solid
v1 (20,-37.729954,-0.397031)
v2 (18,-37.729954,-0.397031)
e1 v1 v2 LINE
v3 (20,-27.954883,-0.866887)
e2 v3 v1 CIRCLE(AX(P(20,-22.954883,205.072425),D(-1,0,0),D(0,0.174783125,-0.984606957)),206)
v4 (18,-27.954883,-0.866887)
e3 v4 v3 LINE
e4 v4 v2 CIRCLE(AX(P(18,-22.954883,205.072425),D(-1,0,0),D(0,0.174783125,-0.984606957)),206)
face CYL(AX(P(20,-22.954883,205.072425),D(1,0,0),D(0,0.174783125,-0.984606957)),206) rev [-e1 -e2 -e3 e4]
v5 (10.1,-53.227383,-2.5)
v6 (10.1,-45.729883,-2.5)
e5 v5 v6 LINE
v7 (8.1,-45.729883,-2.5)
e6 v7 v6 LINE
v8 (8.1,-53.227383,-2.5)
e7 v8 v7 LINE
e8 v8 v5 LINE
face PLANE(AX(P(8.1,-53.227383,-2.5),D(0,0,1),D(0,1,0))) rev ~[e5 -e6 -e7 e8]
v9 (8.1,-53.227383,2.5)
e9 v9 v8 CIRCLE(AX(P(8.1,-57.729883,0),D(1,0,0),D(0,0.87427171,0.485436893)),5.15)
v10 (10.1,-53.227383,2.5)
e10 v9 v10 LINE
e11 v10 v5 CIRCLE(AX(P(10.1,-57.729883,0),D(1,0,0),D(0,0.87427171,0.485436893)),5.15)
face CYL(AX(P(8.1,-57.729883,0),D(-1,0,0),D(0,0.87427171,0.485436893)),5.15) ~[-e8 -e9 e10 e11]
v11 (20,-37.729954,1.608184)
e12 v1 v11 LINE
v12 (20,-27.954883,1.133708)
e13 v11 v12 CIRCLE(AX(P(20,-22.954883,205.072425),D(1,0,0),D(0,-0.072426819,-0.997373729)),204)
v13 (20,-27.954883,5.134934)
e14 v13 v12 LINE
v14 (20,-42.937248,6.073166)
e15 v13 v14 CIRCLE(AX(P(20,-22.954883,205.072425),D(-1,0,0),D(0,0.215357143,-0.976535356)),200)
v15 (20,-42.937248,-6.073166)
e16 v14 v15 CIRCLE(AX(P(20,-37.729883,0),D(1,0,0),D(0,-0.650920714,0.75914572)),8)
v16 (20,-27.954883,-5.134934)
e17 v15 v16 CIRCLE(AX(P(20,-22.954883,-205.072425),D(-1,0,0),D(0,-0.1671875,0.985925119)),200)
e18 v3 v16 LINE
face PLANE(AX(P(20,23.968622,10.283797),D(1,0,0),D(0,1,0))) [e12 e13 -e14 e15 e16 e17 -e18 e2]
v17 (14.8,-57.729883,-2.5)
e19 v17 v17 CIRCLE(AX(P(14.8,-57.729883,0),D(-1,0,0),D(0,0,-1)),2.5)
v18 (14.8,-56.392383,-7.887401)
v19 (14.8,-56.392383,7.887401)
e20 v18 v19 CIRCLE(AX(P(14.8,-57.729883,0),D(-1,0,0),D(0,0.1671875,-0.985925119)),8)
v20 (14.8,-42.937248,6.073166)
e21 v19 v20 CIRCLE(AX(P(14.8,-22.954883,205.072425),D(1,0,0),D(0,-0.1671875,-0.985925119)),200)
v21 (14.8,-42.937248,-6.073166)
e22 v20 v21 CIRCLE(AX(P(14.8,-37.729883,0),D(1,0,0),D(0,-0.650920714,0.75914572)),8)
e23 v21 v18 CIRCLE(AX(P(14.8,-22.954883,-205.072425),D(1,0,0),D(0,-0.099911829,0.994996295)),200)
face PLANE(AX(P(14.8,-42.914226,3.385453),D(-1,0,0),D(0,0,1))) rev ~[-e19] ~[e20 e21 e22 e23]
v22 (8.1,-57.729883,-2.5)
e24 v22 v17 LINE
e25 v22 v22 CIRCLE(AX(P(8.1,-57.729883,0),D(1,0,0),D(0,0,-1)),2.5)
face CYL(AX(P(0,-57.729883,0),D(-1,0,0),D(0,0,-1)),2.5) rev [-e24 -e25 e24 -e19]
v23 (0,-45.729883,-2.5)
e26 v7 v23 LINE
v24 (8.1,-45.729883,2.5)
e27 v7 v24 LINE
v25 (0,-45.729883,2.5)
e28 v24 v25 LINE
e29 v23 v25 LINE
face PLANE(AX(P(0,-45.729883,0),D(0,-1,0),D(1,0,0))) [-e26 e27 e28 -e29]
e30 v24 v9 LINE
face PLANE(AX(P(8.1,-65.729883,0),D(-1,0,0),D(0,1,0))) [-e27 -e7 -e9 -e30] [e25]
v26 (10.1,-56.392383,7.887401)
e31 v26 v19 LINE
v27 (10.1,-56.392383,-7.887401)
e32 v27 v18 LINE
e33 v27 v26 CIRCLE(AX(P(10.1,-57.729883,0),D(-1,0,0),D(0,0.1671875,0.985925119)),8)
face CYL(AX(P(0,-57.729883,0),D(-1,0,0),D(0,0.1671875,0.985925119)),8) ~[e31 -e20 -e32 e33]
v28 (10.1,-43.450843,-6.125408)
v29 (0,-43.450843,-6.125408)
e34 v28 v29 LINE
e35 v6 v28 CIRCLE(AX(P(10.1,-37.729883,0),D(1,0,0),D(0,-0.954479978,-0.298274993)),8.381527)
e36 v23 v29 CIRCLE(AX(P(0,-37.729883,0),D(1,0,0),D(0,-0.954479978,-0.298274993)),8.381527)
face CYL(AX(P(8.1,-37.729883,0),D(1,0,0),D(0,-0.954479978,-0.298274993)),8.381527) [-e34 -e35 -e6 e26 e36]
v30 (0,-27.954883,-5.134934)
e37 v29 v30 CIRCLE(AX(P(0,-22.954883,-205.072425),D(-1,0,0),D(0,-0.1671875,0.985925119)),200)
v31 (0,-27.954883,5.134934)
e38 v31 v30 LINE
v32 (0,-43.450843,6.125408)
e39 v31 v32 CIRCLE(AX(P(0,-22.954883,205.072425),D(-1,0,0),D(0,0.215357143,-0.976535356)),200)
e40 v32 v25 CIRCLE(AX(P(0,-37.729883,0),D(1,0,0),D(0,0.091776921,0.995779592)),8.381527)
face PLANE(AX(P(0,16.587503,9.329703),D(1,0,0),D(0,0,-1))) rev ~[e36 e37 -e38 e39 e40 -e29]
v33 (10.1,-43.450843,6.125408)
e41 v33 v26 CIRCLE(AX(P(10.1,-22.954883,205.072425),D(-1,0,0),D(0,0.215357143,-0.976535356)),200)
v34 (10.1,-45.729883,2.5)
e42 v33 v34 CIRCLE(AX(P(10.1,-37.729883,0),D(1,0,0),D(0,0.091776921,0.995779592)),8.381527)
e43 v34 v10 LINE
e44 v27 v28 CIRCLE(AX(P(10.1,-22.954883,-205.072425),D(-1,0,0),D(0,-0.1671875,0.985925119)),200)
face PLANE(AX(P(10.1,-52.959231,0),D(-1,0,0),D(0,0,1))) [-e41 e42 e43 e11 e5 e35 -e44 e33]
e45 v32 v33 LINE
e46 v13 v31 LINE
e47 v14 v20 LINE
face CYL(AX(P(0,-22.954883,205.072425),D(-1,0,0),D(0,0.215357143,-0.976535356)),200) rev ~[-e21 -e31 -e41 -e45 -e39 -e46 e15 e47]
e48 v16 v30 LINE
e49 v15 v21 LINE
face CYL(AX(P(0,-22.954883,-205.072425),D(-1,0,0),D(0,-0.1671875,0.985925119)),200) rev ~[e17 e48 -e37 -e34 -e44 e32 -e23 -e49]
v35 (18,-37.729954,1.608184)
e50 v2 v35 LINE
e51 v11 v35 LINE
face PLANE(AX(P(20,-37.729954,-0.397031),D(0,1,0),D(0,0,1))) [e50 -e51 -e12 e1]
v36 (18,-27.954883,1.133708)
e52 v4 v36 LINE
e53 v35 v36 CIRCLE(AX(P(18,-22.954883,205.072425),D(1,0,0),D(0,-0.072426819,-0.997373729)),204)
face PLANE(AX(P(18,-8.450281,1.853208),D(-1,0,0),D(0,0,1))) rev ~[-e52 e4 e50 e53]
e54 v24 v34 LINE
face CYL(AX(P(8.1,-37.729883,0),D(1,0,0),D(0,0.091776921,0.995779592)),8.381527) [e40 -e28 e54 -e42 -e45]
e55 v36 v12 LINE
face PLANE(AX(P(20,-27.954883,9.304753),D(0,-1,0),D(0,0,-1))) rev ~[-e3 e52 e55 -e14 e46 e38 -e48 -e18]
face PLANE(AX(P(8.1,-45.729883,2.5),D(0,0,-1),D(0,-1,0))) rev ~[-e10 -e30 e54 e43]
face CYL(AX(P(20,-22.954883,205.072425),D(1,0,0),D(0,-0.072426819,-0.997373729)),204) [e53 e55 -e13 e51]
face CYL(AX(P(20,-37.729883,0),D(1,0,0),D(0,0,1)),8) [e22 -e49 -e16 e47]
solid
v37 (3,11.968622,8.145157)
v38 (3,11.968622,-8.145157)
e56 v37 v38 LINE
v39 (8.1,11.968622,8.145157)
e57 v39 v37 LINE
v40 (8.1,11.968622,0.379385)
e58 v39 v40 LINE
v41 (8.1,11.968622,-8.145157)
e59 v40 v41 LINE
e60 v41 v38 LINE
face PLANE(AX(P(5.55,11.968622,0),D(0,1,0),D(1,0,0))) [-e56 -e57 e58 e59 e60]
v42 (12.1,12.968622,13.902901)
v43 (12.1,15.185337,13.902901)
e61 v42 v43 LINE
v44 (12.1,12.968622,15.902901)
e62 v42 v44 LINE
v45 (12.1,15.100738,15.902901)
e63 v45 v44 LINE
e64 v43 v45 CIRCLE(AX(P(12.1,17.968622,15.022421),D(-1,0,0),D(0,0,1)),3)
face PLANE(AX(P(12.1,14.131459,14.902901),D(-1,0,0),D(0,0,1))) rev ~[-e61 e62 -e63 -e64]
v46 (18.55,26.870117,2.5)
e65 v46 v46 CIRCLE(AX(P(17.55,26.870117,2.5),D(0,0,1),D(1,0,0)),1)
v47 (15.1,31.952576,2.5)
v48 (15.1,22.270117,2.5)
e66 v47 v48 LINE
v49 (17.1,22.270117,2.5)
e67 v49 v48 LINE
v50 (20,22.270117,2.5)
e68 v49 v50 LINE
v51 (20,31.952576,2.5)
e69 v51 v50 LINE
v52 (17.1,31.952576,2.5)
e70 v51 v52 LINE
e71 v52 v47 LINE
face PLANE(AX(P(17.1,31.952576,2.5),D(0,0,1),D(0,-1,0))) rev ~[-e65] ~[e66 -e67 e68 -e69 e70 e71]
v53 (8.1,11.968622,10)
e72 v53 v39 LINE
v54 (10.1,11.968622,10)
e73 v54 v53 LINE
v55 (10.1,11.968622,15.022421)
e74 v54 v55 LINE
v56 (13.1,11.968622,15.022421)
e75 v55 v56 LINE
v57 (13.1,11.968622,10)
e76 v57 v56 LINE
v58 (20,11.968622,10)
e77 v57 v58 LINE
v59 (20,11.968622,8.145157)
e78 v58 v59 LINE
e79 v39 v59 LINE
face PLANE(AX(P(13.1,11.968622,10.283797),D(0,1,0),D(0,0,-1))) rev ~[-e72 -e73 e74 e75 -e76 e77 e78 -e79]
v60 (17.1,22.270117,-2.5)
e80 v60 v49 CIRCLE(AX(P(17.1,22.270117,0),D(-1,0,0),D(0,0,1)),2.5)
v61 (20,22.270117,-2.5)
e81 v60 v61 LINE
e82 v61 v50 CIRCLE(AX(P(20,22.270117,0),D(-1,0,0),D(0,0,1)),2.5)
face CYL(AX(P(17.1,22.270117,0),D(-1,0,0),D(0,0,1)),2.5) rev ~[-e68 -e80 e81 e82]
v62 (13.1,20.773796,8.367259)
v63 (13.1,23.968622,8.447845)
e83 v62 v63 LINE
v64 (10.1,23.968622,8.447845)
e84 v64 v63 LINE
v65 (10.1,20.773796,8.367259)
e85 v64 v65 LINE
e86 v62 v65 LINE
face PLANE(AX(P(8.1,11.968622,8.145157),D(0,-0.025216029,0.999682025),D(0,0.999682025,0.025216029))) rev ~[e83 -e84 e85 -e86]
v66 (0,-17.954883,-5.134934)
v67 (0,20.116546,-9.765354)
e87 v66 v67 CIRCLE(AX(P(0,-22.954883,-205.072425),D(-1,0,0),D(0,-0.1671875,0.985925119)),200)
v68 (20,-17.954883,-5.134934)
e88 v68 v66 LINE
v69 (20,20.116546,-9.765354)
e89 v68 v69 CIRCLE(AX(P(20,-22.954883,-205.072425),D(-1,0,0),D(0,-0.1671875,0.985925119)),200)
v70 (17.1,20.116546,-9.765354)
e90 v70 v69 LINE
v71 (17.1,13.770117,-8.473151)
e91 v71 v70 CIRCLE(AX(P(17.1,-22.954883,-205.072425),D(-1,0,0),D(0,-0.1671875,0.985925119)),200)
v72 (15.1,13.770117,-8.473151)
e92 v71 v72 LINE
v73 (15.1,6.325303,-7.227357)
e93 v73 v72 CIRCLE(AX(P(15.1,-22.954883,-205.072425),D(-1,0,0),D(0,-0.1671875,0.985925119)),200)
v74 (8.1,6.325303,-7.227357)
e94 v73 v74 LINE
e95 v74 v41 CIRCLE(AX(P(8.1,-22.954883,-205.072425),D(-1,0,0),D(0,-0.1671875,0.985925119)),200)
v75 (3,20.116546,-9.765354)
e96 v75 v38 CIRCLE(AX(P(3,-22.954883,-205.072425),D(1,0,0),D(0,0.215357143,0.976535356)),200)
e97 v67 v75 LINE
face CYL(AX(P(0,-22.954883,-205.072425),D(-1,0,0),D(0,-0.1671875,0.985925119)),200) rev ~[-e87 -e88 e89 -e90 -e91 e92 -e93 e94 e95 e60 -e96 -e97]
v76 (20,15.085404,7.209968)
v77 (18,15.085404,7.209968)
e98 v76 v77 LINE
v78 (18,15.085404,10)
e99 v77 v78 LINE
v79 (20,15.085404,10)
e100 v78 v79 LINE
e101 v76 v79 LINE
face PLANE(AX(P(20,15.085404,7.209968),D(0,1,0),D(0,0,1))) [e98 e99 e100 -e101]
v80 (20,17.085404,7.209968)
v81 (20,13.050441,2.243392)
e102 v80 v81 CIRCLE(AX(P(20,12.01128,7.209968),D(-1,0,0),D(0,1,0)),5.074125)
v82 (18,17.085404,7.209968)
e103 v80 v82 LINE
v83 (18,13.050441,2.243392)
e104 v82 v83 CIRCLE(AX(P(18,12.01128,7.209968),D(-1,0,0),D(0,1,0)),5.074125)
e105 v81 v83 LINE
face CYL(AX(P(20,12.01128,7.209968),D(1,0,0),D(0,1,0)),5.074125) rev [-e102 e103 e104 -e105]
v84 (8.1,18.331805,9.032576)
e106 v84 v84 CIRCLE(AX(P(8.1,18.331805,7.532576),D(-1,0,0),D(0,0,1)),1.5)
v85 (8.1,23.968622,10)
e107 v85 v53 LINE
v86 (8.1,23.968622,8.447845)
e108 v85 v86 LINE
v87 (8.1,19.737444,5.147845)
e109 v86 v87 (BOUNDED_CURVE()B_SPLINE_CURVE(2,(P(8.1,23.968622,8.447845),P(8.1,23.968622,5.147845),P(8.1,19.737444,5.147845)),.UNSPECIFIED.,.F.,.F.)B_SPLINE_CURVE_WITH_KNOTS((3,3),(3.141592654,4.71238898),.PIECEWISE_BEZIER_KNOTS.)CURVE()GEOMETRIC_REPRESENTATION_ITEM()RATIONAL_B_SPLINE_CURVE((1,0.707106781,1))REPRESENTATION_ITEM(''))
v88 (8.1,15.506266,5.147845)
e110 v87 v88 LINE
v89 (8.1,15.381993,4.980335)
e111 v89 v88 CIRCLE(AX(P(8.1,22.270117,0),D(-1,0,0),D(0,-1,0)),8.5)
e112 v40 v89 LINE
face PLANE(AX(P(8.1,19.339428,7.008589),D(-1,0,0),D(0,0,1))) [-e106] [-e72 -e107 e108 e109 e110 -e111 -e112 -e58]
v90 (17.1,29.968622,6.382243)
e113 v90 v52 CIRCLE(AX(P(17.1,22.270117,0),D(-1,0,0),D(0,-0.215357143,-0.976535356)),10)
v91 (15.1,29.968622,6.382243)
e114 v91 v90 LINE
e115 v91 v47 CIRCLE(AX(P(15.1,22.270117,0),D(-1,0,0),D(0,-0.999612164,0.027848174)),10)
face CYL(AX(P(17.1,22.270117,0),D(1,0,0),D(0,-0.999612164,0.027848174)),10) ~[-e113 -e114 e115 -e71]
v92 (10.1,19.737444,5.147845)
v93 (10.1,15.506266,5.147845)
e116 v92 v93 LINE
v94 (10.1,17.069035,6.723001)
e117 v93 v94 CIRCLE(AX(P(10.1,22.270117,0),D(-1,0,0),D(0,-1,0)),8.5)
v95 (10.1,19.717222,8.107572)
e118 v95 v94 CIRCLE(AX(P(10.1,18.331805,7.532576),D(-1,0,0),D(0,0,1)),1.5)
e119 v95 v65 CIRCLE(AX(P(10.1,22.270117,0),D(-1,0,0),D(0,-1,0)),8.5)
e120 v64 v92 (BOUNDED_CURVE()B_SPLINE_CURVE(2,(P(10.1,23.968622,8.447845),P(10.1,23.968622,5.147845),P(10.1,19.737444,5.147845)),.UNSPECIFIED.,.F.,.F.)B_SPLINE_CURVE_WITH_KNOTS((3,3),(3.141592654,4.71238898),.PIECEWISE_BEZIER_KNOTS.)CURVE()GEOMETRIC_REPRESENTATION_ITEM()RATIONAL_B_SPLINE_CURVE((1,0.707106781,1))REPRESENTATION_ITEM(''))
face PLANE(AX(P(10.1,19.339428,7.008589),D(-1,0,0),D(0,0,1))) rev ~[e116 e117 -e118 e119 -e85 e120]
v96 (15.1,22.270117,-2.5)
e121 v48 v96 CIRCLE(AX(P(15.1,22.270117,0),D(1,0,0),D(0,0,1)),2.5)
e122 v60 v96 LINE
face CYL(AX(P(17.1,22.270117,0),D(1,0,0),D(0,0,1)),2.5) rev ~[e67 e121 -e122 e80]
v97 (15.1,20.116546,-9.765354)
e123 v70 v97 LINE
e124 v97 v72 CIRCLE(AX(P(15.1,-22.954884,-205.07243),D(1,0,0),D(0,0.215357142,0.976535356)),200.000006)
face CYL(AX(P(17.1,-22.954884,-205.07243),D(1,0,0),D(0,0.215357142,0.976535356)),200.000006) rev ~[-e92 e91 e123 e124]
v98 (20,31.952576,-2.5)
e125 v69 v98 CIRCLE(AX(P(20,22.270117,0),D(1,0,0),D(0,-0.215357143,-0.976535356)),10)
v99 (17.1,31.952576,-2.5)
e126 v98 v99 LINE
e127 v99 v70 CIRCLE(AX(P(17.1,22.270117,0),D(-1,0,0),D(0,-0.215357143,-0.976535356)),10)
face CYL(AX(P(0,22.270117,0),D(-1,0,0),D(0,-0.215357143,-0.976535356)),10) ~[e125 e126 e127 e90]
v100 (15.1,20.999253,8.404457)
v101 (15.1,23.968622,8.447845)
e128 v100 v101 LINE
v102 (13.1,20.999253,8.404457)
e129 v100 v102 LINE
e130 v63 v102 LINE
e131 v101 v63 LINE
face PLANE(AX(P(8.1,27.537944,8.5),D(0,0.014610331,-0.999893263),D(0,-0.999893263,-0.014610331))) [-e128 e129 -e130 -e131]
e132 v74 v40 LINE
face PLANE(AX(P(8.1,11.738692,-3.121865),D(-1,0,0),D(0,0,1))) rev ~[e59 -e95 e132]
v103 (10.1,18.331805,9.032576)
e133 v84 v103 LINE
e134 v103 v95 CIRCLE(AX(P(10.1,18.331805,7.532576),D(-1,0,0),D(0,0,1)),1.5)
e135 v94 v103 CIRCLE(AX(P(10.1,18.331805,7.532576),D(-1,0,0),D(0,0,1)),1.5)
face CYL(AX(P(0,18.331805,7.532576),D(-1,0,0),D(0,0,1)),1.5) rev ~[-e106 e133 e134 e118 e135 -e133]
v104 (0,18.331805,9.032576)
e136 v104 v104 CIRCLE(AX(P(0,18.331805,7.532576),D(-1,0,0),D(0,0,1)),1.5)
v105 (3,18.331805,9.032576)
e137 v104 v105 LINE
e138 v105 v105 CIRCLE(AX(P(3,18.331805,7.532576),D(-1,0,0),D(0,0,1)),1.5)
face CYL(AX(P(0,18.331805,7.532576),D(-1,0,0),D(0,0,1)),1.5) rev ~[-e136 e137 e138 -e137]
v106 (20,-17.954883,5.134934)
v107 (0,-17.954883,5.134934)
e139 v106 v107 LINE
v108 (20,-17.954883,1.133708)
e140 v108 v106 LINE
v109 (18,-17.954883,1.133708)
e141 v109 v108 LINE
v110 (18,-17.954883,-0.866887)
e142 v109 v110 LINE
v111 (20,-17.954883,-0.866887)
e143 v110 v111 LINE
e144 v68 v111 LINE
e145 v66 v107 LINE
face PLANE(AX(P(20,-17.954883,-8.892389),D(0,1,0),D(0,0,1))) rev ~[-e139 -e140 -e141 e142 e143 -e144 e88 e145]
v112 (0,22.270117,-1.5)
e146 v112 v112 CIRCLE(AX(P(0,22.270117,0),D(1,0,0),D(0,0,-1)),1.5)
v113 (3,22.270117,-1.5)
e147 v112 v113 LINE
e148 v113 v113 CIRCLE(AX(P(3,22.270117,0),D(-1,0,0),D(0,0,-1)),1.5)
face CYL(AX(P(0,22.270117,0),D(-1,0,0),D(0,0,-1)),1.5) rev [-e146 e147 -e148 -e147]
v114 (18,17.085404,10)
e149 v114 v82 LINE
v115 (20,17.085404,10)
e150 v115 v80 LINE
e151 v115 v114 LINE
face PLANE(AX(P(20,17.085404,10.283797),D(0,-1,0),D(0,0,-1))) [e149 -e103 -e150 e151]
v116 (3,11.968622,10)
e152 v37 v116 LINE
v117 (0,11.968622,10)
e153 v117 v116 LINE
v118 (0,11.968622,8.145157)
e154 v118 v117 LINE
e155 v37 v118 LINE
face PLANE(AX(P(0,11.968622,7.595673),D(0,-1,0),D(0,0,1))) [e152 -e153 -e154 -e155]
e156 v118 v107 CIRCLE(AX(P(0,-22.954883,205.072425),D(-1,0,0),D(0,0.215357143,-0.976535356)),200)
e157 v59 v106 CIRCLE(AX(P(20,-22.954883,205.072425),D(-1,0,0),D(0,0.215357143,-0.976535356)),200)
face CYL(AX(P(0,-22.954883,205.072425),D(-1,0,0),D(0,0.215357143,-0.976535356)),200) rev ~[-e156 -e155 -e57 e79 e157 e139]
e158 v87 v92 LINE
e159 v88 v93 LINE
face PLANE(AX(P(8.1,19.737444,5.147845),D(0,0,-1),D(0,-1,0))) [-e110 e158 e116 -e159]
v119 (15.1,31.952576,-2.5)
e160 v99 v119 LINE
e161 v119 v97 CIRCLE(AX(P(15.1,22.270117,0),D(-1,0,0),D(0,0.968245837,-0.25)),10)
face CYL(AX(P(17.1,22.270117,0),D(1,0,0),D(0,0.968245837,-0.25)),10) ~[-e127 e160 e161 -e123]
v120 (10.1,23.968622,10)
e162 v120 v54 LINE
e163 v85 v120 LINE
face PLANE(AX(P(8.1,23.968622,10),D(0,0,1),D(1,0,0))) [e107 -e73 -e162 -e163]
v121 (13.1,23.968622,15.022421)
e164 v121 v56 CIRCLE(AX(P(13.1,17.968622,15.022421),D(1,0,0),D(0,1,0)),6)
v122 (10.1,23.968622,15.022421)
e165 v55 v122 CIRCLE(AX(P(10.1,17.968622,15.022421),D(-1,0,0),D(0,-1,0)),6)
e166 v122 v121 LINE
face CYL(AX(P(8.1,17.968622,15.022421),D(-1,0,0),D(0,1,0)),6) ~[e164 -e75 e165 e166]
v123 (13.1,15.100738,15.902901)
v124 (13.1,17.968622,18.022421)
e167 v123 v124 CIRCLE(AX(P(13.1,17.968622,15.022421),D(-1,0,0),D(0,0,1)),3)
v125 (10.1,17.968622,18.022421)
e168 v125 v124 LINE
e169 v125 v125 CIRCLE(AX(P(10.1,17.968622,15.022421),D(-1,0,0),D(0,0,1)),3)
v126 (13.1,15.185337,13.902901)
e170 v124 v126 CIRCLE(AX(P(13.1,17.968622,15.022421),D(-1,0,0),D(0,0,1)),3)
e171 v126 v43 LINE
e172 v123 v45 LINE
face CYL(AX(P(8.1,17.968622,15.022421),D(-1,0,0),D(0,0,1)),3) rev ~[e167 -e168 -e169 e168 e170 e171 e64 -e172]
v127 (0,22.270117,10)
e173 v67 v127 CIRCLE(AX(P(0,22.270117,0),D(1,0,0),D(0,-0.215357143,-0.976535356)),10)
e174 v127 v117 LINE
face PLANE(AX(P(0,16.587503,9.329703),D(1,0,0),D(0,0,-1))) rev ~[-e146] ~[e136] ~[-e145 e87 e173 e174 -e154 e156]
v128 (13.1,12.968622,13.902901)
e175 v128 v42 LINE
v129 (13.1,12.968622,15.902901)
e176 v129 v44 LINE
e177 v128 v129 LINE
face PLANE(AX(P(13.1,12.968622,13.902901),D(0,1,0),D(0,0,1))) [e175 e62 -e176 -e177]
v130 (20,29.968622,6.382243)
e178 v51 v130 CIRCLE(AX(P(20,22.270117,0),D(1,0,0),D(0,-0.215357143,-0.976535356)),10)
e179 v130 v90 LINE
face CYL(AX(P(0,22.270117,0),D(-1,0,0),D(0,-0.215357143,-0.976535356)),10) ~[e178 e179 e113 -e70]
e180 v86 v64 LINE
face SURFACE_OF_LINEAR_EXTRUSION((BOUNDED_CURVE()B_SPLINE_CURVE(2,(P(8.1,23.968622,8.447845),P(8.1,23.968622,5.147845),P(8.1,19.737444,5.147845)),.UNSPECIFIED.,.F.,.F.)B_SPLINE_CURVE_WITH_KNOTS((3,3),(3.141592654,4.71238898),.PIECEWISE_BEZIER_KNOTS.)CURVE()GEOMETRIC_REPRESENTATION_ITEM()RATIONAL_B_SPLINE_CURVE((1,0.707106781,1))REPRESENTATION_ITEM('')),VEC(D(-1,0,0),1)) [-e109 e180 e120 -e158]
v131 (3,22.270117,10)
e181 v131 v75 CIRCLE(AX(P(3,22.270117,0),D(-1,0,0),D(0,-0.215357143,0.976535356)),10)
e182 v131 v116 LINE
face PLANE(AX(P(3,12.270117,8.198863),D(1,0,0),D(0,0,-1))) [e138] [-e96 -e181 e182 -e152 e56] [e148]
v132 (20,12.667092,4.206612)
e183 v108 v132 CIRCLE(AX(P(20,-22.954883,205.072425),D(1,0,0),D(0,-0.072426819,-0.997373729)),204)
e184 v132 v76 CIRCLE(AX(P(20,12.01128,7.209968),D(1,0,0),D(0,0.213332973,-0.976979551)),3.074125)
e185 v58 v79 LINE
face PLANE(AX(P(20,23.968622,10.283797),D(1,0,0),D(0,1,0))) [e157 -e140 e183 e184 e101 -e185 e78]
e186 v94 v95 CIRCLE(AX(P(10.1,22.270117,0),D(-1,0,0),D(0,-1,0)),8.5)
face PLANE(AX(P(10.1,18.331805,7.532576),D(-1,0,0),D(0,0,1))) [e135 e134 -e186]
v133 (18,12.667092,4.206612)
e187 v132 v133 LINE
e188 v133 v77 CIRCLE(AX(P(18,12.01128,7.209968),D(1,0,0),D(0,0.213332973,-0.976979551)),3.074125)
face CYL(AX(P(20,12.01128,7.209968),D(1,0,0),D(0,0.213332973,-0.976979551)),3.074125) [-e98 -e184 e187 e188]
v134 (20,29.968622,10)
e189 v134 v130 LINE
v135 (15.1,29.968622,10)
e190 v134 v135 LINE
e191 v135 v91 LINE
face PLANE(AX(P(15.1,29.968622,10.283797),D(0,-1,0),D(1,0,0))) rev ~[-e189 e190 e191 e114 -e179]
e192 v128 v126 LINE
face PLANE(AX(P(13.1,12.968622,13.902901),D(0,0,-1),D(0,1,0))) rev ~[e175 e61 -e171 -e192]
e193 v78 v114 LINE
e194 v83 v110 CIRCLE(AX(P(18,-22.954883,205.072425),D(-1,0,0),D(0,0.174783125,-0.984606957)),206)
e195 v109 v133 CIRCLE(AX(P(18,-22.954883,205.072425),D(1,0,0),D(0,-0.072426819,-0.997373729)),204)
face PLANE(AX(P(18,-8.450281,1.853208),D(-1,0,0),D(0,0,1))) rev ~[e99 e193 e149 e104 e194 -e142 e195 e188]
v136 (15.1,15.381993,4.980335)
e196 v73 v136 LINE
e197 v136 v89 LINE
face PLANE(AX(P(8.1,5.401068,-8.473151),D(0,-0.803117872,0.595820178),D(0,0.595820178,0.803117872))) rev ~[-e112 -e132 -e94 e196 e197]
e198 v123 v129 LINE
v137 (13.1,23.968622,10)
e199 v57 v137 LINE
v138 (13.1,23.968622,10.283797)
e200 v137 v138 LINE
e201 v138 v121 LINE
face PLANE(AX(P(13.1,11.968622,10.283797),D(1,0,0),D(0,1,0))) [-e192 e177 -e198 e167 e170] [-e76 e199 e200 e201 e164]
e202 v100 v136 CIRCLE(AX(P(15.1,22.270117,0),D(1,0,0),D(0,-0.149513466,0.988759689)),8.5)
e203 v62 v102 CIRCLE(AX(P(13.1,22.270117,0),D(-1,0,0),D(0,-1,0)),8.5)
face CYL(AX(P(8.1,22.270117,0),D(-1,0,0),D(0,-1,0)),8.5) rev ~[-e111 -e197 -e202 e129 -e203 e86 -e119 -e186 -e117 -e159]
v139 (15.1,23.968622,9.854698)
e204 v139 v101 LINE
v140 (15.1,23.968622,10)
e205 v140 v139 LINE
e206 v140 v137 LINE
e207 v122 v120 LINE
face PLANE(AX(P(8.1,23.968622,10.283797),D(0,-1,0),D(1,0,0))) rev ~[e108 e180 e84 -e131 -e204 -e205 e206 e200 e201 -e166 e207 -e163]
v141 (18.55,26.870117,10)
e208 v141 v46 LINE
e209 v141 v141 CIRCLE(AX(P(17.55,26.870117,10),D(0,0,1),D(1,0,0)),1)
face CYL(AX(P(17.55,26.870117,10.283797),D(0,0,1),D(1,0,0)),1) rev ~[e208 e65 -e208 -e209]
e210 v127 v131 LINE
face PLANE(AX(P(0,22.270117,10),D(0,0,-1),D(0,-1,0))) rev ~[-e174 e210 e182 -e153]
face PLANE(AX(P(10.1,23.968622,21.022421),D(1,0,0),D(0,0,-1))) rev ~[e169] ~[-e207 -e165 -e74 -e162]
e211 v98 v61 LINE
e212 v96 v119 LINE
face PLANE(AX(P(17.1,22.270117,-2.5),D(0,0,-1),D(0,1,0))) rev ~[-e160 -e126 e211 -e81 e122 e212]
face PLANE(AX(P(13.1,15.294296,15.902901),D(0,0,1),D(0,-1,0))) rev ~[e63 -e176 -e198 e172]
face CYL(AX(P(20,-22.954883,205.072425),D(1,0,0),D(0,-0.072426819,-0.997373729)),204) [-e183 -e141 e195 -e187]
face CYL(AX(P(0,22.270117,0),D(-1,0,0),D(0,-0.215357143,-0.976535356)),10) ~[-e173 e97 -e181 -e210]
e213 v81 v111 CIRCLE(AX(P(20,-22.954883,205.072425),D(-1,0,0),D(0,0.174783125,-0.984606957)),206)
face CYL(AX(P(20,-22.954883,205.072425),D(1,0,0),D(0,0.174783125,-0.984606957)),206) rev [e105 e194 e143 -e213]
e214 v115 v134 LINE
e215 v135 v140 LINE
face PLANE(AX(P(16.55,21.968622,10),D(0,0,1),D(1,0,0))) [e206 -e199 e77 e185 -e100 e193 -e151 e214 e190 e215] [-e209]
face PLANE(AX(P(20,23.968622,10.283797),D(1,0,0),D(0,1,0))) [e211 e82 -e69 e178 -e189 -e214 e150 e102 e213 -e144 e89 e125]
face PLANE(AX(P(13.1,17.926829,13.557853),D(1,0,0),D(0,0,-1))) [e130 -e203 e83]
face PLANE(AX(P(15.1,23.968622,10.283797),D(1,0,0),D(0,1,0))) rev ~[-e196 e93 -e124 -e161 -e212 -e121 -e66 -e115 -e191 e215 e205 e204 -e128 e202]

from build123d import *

# Parameters (mm, degrees)
SKETCH1_R                = 1.5
SKETCH1_R_2              = 2.5
BOSS_EXTRUDE1_DEPTH      = 20
SKETCH2_W                = 8.1
SKETCH2_H                = 20
SKETCH2_W_2              = 5.2
SKETCH2_W_3              = 5.1
CUT_EXTRUDE1_DEPTH       = 20
CUT_EXTRUDE1_DEPTH_BACK  = 20
CUT_EXTRUDE2_DEPTH       = 9
BOSS_EXTRUDE2_DEPTH      = 11.9
SKETCH5_R                = 3
BOSS_EXTRUDE3_DEPTH      = 5
CUT_EXTRUDE6_DEPTH       = 1
SKETCH13_R               = 2.5
CUT_EXTRUDE7_DEPTH       = 4
BOSS_EXTRUDE4_DEPTH      = 3
CUT_EXTRUDE9_DEPTH       = 3
SKETCH17_W               = 9
SKETCH17_H               = 3.569322199
CUT_EXTRUDE11_DEPTH      = 3
SKETCH18_W               = 5.770974844
SKETCH18_H               = 0.772936936
BOSS_EXTRUDE5_DEPTH      = 6.9
BOSS_EXTRUDE5_DEPTH_BACK = 1
SKETCH19_W               = 5.1
SKETCH19_H               = 16.397725614
CUT_EXTRUDE12_DEPTH      = 0.301495
SKETCH20_W               = 5
SKETCH20_H               = 12.419235667
CUT_EXTRUDE13_DEPTH      = 10
BOSS_EXTRUDE6_DEPTH      = 2
SKETCH23_W               = 4.9
SKETCH23_H               = 6
BOSS_EXTRUDE7_DEPTH      = 4
SKETCH22_R               = 1
CUT_EXTRUDE15_DEPTH      = 8
BOSS_EXTRUDE8_DEPTH      = 2
SKETCH14_R               = 1.5
CUT_EXTRUDE8_DEPTH       = 10.1
CUT_EXTRUDE17_DEPTH      = 8.1
CUT_EXTRUDE17_DEPTH_BACK = 2
CUT_EXTRUDE18_DEPTH      = 2
CUT_EXTRUDE20_DEPTH      = 5.2
SKETCH30_W               = 6.9
SKETCH30_H               = 20
CUT_EXTRUDE21_DEPTH      = 0.283797
CUT_EXTRUDE22_REACH      = 91.699
SKETCH31_W               = 2
SKETCH31_H               = 11.022421386
CUT_EXTRUDE23_DEPTH      = 7
CUT_EXTRUDE24_DEPTH      = 21


with BuildPart() as part:
    # Sketch1 → Boss-Extrude1 (new body)
    with BuildSketch(Plane(origin=(0, 0, 0), x_dir=(0, 0, -1), z_dir=(1, 0, 0))):
        with BuildLine():
            ThreePointArc((9.765353557, 20.116545894), (0, 32.270117322), (-9.765353557, 20.116545894))
            ThreePointArc((-9.765353557, 20.116545894), (-5.132645827, -18.047253777), (-7.88740095, -56.392382678))
            ThreePointArc((-7.88740095, -56.392382678), (0, -65.729882678), (7.88740095, -56.392382678))
            ThreePointArc((7.88740095, -56.392382678), (5.132645827, -18.047253777), (9.765353557, 20.116545894))
        make_face()
        with Locations((0, 22.270117322)):
            Circle(SKETCH1_R, mode=Mode.SUBTRACT)
        with Locations((0, -57.729882678)):
            Circle(SKETCH1_R_2, mode=Mode.SUBTRACT)
    extrude(amount=BOSS_EXTRUDE1_DEPTH)

    # Sketch2 → Cut-Extrude1 (cut, two sides)
    with BuildSketch(Plane.XY) as cut_extrude1_sk:
        with Locations((4.05, -55.729882678)):
            Rectangle(SKETCH2_W, SKETCH2_H)
        with Locations((17.4, -55.729882678)):
            Rectangle(SKETCH2_W_2, SKETCH2_H)
        with Locations((5.55, 22.270117322)):
            Rectangle(SKETCH2_W_3, SKETCH2_H)
    extrude(amount=CUT_EXTRUDE1_DEPTH, mode=Mode.SUBTRACT)
    extrude(cut_extrude1_sk.sketch, amount=-CUT_EXTRUDE1_DEPTH_BACK, mode=Mode.SUBTRACT)

    # Sketch3 → Cut-Extrude2 (cut)
    with BuildSketch(Plane.ZY.offset(-8.1)):
        with BuildLine():
            Line((8.5, 22.270117322), (8.5, 40.909533312))
            Line((8.5, 40.909533312), (-17.52872033, 40.909533312))
            Line((-17.52872033, 40.909533312), (-17.52872033, 13.770117322))
            Line((-17.52872033, 13.770117322), (0, 13.770117322))
            ThreePointArc((0, 13.770117322), (6.01040764, 16.259709682), (8.5, 22.270117322))
        make_face()
    extrude(amount=-CUT_EXTRUDE2_DEPTH, mode=Mode.SUBTRACT)

    # Sketch4 → Boss-Extrude2 (add, through all)
    with BuildSketch(Plane.ZY.offset(-8.1)):
        Polygon((8.5, 27.537944199), (8.283796844, 12.741558936), (10.283796844, 12.741558936), (10.283796844, 27.537944199), align=None)
    extrude(amount=-BOSS_EXTRUDE2_DEPTH)

    # Sketch5 → Boss-Extrude3 (add)
    with BuildSketch(Plane.ZY.offset(-8.1)):
        with BuildLine():
            Line((8.145156861, 11.968622), (8.447845456, 23.968622))
            Line((8.447845456, 23.968622), (9.854698466, 23.968622))
            Line((9.854698466, 23.968622), (15.022421386, 23.968622))
            ThreePointArc((15.022421386, 23.968622), (21.022421386, 17.968622), (15.022421386, 11.968622))
            Line((15.022421386, 11.968622), (8.145156861, 11.968622))
        make_face()
        with Locations((15.022421386, 17.968622)):
            Circle(SKETCH5_R, mode=Mode.SUBTRACT)
    extrude(amount=-BOSS_EXTRUDE3_DEPTH)

    # Sketch12 → Cut-Extrude6 (cut)
    with BuildSketch(Plane(origin=(13.1, 0, 0), x_dir=(0, 0, -1), z_dir=(1, 0, 0))):
        Polygon((-13.902900694, 14.968622), (-13.902900694, 12.968622), (-15.902900694, 12.968622), (-15.902900694, 14.968622), (-15.902900694, 15.294296094), (-13.902900694, 15.294296094), align=None)
    extrude(amount=-CUT_EXTRUDE6_DEPTH, mode=Mode.SUBTRACT)

    # Sketch13 → Cut-Extrude7 (cut)
    with BuildSketch(Plane.ZY.offset(-17.1)):
        with Locations((0, 22.270117322)):
            Circle(SKETCH13_R)
    extrude(amount=-CUT_EXTRUDE7_DEPTH, mode=Mode.SUBTRACT)

    # Sketch15 → Boss-Extrude4 (add)
    with BuildSketch(Plane.ZY):
        Polygon((10, 22.270117322), (10, 11.968622), (8.145156861, 11.968622), (7.595672539, 11.968622), align=None)
    extrude(amount=-BOSS_EXTRUDE4_DEPTH)

    # Sketch16 → Cut-Extrude9 (cut)
    with BuildSketch(Plane(origin=(20, 0, 0), x_dir=(0, 0, -1), z_dir=(1, 0, 0))):
        with BuildLine():
            Line((-10.283796844, 23.968622), (-9.854698466, 23.968622))
            ThreePointArc((-9.854698466, 23.968622), (-9.349264901, 25.818531871), (-8.5, 27.537944199))
            Line((-8.5, 27.537944199), (-10.283796844, 27.537944199))
            Line((-10.283796844, 27.537944199), (-10.283796844, 23.968622))
        make_face()
    extrude(amount=-CUT_EXTRUDE9_DEPTH, mode=Mode.SUBTRACT)

    # Sketch17 → Cut-Extrude11 (cut)
    with BuildSketch(Plane.XY.offset(10.283796844)):
        with Locations((12.6, 25.7532831)):
            Rectangle(SKETCH17_W, SKETCH17_H)
    extrude(amount=-CUT_EXTRUDE11_DEPTH, mode=Mode.SUBTRACT)

    # Sketch18 → Boss-Extrude5 (add, two sides)
    with BuildSketch(Plane(origin=(13.1, 0, 0), x_dir=(0, 0, -1), z_dir=(1, 0, 0))) as boss_extrude5_sk:
        with Locations((-7.398309422, 12.355090468)):
            Rectangle(SKETCH18_W, SKETCH18_H)
    extrude(amount=BOSS_EXTRUDE5_DEPTH)
    extrude(boss_extrude5_sk.sketch, amount=-BOSS_EXTRUDE5_DEPTH_BACK)

    # Sketch19 → Cut-Extrude12 (cut)
    with BuildSketch(Plane(origin=(0, 12.270117322, 0), x_dir=(1, 0, 0), z_dir=(0, 1, 0))):
        with Locations((5.55, 0)):
            Rectangle(SKETCH19_W, SKETCH19_H)
    extrude(amount=-CUT_EXTRUDE12_DEPTH, mode=Mode.SUBTRACT)

    # Sketch20 → Cut-Extrude13 (cut)
    with BuildSketch(Plane.ZY.offset(-17.1)):
        with Locations((0, 28.479735156)):
            Rectangle(SKETCH20_W, SKETCH20_H)
    extrude(amount=-CUT_EXTRUDE13_DEPTH, mode=Mode.SUBTRACT)

    # Sketch21 → Boss-Extrude6 (add)
    with BuildSketch(Plane.ZY.offset(-17.1)):
        with BuildLine():
            Line((-8.473151119, 13.770117322), (0.278481736, 12.273995678))
            ThreePointArc((0.278481736, 12.273995678), (9.936881703, 21.148341047), (2.5, 31.952575688))
            Line((2.5, 31.952575688), (2.5, 22.270117322))
            ThreePointArc((2.5, 22.270117322), (0, 19.770117322), (-2.5, 22.270117322))
            Line((-2.5, 22.270117322), (-2.5, 31.952575688))
            ThreePointArc((-2.5, 31.952575688), (-8.522477621, 27.501501002), (-9.765353557, 20.116545894))
            ThreePointArc((-9.765353557, 20.116545894), (-9.093560923, 16.948562662), (-8.473151119, 13.770117322))
        make_face()
    extrude(amount=BOSS_EXTRUDE6_DEPTH)

    # Sketch23 → Boss-Extrude7 (add)
    with BuildSketch(Plane.XY.offset(10.283796844)):
        with Locations((17.55, 26.968622)):
            Rectangle(SKETCH23_W, SKETCH23_H)
    extrude(amount=-BOSS_EXTRUDE7_DEPTH)

    # Sketch22 → Cut-Extrude15 (cut)
    with BuildSketch(Plane.XY.offset(10.283796844)):
        with Locations((17.55, 26.870117322)):
            Circle(SKETCH22_R)
    extrude(amount=-CUT_EXTRUDE15_DEPTH, mode=Mode.SUBTRACT)

    # Sketch24 → Boss-Extrude8 (add)
    with BuildSketch(Plane.ZY.offset(-8.1)):
        with BuildLine():
            Line((5.147845456, 19.737443909), (5.147845456, 15.506265819))
            Line((5.147845456, 15.506265819), (8.447845456, 15.506265819))
            Line((8.447845456, 15.506265819), (8.447845456, 23.968622))
            add(Edge.make_bspline(
                [(8.447845456, 23.968622), (5.147845456, 23.968622), (5.147845456, 19.737443909)],
                knots=[3.141592654, 3.141592654, 3.141592654, 4.71238898, 4.71238898, 4.71238898], degree=2, weights=[1, 0.707106781, 1]))
        make_face()
    extrude(amount=-BOSS_EXTRUDE8_DEPTH)

    # Sketch14 → Cut-Extrude8 (cut)
    with BuildSketch(Plane.ZY):
        with Locations((7.532575614, 18.331804915)):
            Circle(SKETCH14_R)
    extrude(amount=-CUT_EXTRUDE8_DEPTH, mode=Mode.SUBTRACT)

    # Sketch25 → Cut-Extrude17 (cut, two sides)
    with BuildSketch(Plane.ZY.offset(-8.1)) as cut_extrude17_sk:
        with BuildLine():
            Line((12, -45.729882678), (8.346153846, -36.960651908))
            ThreePointArc((8.346153846, -36.960651908), (6.973852263, -42.37911752), (2.5, -45.729882678))
            Line((2.5, -45.729882678), (2.5, -53.227383372))
            ThreePointArc((2.5, -53.227383372), (0, -62.879882678), (-2.5, -53.227383372))
            Line((-2.5, -53.227383372), (-2.5, -45.729882678))
            ThreePointArc((-2.5, -45.729882678), (-6.973852263, -42.37911752), (-8.346153846, -36.960651908))
            Line((-8.346153846, -36.960651908), (-12, -45.729882678))
            Line((-12, -45.729882678), (-12, -57.729882678))
            ThreePointArc((-12, -57.729882678), (0, -69.729882678), (12, -57.729882678))
            Line((12, -57.729882678), (12, -45.729882678))
        make_face()
    extrude(amount=CUT_EXTRUDE17_DEPTH, mode=Mode.SUBTRACT)
    extrude(cut_extrude17_sk.sketch, amount=-CUT_EXTRUDE17_DEPTH_BACK, mode=Mode.SUBTRACT)

    # Sketch26 → Cut-Extrude18 (cut)
    with BuildSketch(Plane(origin=(20, 0, 0), x_dir=(0, 0, -1), z_dir=(1, 0, 0))):
        with BuildLine():
            Line((-7.209968303, 15.085404497), (-10.283796844, 15.085404497))
            Line((-10.283796844, 15.085404497), (-10.283796844, 17.085404497))
            Line((-10.283796844, 17.085404497), (-7.209968303, 17.085404497))
            ThreePointArc((-7.209968303, 17.085404497), (-4.010444351, 15.949526558), (-2.243391617, 13.050441039))
            ThreePointArc((-2.243391617, 13.050441039), (0.649659998, -12.257973546), (0.397031114, -37.729953741))
            Line((0.397031114, -37.729953741), (-1.608183929, -37.729953741))
            ThreePointArc((-1.608183929, -37.729953741), (-1.343036313, -12.450773719), (-4.206611504, 12.667092093))
            ThreePointArc((-4.206611504, 12.667092093), (-5.281990934, 14.405678614), (-7.209968303, 15.085404497))
        make_face()
    extrude(amount=-CUT_EXTRUDE18_DEPTH, mode=Mode.SUBTRACT)

    # Sketch29 → Cut-Extrude20 (cut)
    with BuildSketch(Plane(origin=(20, 0, 0), x_dir=(0, 0, -1), z_dir=(1, 0, 0))):
        with BuildLine():
            Line((8, -37.729882678), (8.140336581, -37.729882678))
            Line((8.140336581, -37.729882678), (8.140336581, -45.937498976))
            Line((8.140336581, -45.937498976), (-15.754893946, -45.937498976))
            Line((-15.754893946, -45.937498976), (-15.754893946, -37.729882678))
            Line((-15.754893946, -37.729882678), (-8, -37.729882678))
            ThreePointArc((-8, -37.729882678), (0, -45.729882678), (8, -37.729882678))
        make_face()
    extrude(amount=-CUT_EXTRUDE20_DEPTH, mode=Mode.SUBTRACT)

    # Sketch30 → Cut-Extrude21 (cut)
    with BuildSketch(Plane.XY.offset(10.283796844)):
        with Locations((16.55, 21.968622)):
            Rectangle(SKETCH30_W, SKETCH30_H)
    extrude(amount=-CUT_EXTRUDE21_DEPTH, mode=Mode.SUBTRACT)

    # Sketch31 → Cut-Extrude22 (cut, up to next)
    with BuildSketch(Plane(origin=(0, 23.968622, 0), x_dir=(1, 0, 0), z_dir=(0, 1, 0)), mode=Mode.PRIVATE) as cut_extrude22_sk1:
        with Locations((9.1, -15.511210693)):
            Rectangle(SKETCH31_W, SKETCH31_H)
    cut_extrude22_tool1 = extrude(cut_extrude22_sk1.sketch, amount=-CUT_EXTRUDE22_REACH, mode=Mode.PRIVATE) & part.part
    add(cut_extrude22_tool1.solids().sort_by_distance((9.1, 23.968622, 15.511211))[0], mode=Mode.SUBTRACT)

    # Sketch32 → Cut-Extrude23 (cut)
    with BuildSketch(Plane.ZY.offset(-8.1)):
        Polygon((-8.473151119, 13.770117322), (-8.473151119, 5.401068454), (5.147845456, 15.506265819), align=None)
    extrude(amount=-CUT_EXTRUDE23_DEPTH, mode=Mode.SUBTRACT)

    # Sketch33 → Cut-Extrude24 (cut, through all)
    with BuildSketch(Plane(origin=(20, 0, 0), x_dir=(0, 0, -1), z_dir=(1, 0, 0))):
        Polygon((-9.30475326, -22.954882678), (-9.30475326, -27.954882678), (8.892389241, -27.954882678), (8.892389241, -22.954882678), (8.892389241, -17.954882678), (-9.30475326, -17.954882678), align=None)
    extrude(amount=-CUT_EXTRUDE24_DEPTH, mode=Mode.SUBTRACT)


solid = part.part
